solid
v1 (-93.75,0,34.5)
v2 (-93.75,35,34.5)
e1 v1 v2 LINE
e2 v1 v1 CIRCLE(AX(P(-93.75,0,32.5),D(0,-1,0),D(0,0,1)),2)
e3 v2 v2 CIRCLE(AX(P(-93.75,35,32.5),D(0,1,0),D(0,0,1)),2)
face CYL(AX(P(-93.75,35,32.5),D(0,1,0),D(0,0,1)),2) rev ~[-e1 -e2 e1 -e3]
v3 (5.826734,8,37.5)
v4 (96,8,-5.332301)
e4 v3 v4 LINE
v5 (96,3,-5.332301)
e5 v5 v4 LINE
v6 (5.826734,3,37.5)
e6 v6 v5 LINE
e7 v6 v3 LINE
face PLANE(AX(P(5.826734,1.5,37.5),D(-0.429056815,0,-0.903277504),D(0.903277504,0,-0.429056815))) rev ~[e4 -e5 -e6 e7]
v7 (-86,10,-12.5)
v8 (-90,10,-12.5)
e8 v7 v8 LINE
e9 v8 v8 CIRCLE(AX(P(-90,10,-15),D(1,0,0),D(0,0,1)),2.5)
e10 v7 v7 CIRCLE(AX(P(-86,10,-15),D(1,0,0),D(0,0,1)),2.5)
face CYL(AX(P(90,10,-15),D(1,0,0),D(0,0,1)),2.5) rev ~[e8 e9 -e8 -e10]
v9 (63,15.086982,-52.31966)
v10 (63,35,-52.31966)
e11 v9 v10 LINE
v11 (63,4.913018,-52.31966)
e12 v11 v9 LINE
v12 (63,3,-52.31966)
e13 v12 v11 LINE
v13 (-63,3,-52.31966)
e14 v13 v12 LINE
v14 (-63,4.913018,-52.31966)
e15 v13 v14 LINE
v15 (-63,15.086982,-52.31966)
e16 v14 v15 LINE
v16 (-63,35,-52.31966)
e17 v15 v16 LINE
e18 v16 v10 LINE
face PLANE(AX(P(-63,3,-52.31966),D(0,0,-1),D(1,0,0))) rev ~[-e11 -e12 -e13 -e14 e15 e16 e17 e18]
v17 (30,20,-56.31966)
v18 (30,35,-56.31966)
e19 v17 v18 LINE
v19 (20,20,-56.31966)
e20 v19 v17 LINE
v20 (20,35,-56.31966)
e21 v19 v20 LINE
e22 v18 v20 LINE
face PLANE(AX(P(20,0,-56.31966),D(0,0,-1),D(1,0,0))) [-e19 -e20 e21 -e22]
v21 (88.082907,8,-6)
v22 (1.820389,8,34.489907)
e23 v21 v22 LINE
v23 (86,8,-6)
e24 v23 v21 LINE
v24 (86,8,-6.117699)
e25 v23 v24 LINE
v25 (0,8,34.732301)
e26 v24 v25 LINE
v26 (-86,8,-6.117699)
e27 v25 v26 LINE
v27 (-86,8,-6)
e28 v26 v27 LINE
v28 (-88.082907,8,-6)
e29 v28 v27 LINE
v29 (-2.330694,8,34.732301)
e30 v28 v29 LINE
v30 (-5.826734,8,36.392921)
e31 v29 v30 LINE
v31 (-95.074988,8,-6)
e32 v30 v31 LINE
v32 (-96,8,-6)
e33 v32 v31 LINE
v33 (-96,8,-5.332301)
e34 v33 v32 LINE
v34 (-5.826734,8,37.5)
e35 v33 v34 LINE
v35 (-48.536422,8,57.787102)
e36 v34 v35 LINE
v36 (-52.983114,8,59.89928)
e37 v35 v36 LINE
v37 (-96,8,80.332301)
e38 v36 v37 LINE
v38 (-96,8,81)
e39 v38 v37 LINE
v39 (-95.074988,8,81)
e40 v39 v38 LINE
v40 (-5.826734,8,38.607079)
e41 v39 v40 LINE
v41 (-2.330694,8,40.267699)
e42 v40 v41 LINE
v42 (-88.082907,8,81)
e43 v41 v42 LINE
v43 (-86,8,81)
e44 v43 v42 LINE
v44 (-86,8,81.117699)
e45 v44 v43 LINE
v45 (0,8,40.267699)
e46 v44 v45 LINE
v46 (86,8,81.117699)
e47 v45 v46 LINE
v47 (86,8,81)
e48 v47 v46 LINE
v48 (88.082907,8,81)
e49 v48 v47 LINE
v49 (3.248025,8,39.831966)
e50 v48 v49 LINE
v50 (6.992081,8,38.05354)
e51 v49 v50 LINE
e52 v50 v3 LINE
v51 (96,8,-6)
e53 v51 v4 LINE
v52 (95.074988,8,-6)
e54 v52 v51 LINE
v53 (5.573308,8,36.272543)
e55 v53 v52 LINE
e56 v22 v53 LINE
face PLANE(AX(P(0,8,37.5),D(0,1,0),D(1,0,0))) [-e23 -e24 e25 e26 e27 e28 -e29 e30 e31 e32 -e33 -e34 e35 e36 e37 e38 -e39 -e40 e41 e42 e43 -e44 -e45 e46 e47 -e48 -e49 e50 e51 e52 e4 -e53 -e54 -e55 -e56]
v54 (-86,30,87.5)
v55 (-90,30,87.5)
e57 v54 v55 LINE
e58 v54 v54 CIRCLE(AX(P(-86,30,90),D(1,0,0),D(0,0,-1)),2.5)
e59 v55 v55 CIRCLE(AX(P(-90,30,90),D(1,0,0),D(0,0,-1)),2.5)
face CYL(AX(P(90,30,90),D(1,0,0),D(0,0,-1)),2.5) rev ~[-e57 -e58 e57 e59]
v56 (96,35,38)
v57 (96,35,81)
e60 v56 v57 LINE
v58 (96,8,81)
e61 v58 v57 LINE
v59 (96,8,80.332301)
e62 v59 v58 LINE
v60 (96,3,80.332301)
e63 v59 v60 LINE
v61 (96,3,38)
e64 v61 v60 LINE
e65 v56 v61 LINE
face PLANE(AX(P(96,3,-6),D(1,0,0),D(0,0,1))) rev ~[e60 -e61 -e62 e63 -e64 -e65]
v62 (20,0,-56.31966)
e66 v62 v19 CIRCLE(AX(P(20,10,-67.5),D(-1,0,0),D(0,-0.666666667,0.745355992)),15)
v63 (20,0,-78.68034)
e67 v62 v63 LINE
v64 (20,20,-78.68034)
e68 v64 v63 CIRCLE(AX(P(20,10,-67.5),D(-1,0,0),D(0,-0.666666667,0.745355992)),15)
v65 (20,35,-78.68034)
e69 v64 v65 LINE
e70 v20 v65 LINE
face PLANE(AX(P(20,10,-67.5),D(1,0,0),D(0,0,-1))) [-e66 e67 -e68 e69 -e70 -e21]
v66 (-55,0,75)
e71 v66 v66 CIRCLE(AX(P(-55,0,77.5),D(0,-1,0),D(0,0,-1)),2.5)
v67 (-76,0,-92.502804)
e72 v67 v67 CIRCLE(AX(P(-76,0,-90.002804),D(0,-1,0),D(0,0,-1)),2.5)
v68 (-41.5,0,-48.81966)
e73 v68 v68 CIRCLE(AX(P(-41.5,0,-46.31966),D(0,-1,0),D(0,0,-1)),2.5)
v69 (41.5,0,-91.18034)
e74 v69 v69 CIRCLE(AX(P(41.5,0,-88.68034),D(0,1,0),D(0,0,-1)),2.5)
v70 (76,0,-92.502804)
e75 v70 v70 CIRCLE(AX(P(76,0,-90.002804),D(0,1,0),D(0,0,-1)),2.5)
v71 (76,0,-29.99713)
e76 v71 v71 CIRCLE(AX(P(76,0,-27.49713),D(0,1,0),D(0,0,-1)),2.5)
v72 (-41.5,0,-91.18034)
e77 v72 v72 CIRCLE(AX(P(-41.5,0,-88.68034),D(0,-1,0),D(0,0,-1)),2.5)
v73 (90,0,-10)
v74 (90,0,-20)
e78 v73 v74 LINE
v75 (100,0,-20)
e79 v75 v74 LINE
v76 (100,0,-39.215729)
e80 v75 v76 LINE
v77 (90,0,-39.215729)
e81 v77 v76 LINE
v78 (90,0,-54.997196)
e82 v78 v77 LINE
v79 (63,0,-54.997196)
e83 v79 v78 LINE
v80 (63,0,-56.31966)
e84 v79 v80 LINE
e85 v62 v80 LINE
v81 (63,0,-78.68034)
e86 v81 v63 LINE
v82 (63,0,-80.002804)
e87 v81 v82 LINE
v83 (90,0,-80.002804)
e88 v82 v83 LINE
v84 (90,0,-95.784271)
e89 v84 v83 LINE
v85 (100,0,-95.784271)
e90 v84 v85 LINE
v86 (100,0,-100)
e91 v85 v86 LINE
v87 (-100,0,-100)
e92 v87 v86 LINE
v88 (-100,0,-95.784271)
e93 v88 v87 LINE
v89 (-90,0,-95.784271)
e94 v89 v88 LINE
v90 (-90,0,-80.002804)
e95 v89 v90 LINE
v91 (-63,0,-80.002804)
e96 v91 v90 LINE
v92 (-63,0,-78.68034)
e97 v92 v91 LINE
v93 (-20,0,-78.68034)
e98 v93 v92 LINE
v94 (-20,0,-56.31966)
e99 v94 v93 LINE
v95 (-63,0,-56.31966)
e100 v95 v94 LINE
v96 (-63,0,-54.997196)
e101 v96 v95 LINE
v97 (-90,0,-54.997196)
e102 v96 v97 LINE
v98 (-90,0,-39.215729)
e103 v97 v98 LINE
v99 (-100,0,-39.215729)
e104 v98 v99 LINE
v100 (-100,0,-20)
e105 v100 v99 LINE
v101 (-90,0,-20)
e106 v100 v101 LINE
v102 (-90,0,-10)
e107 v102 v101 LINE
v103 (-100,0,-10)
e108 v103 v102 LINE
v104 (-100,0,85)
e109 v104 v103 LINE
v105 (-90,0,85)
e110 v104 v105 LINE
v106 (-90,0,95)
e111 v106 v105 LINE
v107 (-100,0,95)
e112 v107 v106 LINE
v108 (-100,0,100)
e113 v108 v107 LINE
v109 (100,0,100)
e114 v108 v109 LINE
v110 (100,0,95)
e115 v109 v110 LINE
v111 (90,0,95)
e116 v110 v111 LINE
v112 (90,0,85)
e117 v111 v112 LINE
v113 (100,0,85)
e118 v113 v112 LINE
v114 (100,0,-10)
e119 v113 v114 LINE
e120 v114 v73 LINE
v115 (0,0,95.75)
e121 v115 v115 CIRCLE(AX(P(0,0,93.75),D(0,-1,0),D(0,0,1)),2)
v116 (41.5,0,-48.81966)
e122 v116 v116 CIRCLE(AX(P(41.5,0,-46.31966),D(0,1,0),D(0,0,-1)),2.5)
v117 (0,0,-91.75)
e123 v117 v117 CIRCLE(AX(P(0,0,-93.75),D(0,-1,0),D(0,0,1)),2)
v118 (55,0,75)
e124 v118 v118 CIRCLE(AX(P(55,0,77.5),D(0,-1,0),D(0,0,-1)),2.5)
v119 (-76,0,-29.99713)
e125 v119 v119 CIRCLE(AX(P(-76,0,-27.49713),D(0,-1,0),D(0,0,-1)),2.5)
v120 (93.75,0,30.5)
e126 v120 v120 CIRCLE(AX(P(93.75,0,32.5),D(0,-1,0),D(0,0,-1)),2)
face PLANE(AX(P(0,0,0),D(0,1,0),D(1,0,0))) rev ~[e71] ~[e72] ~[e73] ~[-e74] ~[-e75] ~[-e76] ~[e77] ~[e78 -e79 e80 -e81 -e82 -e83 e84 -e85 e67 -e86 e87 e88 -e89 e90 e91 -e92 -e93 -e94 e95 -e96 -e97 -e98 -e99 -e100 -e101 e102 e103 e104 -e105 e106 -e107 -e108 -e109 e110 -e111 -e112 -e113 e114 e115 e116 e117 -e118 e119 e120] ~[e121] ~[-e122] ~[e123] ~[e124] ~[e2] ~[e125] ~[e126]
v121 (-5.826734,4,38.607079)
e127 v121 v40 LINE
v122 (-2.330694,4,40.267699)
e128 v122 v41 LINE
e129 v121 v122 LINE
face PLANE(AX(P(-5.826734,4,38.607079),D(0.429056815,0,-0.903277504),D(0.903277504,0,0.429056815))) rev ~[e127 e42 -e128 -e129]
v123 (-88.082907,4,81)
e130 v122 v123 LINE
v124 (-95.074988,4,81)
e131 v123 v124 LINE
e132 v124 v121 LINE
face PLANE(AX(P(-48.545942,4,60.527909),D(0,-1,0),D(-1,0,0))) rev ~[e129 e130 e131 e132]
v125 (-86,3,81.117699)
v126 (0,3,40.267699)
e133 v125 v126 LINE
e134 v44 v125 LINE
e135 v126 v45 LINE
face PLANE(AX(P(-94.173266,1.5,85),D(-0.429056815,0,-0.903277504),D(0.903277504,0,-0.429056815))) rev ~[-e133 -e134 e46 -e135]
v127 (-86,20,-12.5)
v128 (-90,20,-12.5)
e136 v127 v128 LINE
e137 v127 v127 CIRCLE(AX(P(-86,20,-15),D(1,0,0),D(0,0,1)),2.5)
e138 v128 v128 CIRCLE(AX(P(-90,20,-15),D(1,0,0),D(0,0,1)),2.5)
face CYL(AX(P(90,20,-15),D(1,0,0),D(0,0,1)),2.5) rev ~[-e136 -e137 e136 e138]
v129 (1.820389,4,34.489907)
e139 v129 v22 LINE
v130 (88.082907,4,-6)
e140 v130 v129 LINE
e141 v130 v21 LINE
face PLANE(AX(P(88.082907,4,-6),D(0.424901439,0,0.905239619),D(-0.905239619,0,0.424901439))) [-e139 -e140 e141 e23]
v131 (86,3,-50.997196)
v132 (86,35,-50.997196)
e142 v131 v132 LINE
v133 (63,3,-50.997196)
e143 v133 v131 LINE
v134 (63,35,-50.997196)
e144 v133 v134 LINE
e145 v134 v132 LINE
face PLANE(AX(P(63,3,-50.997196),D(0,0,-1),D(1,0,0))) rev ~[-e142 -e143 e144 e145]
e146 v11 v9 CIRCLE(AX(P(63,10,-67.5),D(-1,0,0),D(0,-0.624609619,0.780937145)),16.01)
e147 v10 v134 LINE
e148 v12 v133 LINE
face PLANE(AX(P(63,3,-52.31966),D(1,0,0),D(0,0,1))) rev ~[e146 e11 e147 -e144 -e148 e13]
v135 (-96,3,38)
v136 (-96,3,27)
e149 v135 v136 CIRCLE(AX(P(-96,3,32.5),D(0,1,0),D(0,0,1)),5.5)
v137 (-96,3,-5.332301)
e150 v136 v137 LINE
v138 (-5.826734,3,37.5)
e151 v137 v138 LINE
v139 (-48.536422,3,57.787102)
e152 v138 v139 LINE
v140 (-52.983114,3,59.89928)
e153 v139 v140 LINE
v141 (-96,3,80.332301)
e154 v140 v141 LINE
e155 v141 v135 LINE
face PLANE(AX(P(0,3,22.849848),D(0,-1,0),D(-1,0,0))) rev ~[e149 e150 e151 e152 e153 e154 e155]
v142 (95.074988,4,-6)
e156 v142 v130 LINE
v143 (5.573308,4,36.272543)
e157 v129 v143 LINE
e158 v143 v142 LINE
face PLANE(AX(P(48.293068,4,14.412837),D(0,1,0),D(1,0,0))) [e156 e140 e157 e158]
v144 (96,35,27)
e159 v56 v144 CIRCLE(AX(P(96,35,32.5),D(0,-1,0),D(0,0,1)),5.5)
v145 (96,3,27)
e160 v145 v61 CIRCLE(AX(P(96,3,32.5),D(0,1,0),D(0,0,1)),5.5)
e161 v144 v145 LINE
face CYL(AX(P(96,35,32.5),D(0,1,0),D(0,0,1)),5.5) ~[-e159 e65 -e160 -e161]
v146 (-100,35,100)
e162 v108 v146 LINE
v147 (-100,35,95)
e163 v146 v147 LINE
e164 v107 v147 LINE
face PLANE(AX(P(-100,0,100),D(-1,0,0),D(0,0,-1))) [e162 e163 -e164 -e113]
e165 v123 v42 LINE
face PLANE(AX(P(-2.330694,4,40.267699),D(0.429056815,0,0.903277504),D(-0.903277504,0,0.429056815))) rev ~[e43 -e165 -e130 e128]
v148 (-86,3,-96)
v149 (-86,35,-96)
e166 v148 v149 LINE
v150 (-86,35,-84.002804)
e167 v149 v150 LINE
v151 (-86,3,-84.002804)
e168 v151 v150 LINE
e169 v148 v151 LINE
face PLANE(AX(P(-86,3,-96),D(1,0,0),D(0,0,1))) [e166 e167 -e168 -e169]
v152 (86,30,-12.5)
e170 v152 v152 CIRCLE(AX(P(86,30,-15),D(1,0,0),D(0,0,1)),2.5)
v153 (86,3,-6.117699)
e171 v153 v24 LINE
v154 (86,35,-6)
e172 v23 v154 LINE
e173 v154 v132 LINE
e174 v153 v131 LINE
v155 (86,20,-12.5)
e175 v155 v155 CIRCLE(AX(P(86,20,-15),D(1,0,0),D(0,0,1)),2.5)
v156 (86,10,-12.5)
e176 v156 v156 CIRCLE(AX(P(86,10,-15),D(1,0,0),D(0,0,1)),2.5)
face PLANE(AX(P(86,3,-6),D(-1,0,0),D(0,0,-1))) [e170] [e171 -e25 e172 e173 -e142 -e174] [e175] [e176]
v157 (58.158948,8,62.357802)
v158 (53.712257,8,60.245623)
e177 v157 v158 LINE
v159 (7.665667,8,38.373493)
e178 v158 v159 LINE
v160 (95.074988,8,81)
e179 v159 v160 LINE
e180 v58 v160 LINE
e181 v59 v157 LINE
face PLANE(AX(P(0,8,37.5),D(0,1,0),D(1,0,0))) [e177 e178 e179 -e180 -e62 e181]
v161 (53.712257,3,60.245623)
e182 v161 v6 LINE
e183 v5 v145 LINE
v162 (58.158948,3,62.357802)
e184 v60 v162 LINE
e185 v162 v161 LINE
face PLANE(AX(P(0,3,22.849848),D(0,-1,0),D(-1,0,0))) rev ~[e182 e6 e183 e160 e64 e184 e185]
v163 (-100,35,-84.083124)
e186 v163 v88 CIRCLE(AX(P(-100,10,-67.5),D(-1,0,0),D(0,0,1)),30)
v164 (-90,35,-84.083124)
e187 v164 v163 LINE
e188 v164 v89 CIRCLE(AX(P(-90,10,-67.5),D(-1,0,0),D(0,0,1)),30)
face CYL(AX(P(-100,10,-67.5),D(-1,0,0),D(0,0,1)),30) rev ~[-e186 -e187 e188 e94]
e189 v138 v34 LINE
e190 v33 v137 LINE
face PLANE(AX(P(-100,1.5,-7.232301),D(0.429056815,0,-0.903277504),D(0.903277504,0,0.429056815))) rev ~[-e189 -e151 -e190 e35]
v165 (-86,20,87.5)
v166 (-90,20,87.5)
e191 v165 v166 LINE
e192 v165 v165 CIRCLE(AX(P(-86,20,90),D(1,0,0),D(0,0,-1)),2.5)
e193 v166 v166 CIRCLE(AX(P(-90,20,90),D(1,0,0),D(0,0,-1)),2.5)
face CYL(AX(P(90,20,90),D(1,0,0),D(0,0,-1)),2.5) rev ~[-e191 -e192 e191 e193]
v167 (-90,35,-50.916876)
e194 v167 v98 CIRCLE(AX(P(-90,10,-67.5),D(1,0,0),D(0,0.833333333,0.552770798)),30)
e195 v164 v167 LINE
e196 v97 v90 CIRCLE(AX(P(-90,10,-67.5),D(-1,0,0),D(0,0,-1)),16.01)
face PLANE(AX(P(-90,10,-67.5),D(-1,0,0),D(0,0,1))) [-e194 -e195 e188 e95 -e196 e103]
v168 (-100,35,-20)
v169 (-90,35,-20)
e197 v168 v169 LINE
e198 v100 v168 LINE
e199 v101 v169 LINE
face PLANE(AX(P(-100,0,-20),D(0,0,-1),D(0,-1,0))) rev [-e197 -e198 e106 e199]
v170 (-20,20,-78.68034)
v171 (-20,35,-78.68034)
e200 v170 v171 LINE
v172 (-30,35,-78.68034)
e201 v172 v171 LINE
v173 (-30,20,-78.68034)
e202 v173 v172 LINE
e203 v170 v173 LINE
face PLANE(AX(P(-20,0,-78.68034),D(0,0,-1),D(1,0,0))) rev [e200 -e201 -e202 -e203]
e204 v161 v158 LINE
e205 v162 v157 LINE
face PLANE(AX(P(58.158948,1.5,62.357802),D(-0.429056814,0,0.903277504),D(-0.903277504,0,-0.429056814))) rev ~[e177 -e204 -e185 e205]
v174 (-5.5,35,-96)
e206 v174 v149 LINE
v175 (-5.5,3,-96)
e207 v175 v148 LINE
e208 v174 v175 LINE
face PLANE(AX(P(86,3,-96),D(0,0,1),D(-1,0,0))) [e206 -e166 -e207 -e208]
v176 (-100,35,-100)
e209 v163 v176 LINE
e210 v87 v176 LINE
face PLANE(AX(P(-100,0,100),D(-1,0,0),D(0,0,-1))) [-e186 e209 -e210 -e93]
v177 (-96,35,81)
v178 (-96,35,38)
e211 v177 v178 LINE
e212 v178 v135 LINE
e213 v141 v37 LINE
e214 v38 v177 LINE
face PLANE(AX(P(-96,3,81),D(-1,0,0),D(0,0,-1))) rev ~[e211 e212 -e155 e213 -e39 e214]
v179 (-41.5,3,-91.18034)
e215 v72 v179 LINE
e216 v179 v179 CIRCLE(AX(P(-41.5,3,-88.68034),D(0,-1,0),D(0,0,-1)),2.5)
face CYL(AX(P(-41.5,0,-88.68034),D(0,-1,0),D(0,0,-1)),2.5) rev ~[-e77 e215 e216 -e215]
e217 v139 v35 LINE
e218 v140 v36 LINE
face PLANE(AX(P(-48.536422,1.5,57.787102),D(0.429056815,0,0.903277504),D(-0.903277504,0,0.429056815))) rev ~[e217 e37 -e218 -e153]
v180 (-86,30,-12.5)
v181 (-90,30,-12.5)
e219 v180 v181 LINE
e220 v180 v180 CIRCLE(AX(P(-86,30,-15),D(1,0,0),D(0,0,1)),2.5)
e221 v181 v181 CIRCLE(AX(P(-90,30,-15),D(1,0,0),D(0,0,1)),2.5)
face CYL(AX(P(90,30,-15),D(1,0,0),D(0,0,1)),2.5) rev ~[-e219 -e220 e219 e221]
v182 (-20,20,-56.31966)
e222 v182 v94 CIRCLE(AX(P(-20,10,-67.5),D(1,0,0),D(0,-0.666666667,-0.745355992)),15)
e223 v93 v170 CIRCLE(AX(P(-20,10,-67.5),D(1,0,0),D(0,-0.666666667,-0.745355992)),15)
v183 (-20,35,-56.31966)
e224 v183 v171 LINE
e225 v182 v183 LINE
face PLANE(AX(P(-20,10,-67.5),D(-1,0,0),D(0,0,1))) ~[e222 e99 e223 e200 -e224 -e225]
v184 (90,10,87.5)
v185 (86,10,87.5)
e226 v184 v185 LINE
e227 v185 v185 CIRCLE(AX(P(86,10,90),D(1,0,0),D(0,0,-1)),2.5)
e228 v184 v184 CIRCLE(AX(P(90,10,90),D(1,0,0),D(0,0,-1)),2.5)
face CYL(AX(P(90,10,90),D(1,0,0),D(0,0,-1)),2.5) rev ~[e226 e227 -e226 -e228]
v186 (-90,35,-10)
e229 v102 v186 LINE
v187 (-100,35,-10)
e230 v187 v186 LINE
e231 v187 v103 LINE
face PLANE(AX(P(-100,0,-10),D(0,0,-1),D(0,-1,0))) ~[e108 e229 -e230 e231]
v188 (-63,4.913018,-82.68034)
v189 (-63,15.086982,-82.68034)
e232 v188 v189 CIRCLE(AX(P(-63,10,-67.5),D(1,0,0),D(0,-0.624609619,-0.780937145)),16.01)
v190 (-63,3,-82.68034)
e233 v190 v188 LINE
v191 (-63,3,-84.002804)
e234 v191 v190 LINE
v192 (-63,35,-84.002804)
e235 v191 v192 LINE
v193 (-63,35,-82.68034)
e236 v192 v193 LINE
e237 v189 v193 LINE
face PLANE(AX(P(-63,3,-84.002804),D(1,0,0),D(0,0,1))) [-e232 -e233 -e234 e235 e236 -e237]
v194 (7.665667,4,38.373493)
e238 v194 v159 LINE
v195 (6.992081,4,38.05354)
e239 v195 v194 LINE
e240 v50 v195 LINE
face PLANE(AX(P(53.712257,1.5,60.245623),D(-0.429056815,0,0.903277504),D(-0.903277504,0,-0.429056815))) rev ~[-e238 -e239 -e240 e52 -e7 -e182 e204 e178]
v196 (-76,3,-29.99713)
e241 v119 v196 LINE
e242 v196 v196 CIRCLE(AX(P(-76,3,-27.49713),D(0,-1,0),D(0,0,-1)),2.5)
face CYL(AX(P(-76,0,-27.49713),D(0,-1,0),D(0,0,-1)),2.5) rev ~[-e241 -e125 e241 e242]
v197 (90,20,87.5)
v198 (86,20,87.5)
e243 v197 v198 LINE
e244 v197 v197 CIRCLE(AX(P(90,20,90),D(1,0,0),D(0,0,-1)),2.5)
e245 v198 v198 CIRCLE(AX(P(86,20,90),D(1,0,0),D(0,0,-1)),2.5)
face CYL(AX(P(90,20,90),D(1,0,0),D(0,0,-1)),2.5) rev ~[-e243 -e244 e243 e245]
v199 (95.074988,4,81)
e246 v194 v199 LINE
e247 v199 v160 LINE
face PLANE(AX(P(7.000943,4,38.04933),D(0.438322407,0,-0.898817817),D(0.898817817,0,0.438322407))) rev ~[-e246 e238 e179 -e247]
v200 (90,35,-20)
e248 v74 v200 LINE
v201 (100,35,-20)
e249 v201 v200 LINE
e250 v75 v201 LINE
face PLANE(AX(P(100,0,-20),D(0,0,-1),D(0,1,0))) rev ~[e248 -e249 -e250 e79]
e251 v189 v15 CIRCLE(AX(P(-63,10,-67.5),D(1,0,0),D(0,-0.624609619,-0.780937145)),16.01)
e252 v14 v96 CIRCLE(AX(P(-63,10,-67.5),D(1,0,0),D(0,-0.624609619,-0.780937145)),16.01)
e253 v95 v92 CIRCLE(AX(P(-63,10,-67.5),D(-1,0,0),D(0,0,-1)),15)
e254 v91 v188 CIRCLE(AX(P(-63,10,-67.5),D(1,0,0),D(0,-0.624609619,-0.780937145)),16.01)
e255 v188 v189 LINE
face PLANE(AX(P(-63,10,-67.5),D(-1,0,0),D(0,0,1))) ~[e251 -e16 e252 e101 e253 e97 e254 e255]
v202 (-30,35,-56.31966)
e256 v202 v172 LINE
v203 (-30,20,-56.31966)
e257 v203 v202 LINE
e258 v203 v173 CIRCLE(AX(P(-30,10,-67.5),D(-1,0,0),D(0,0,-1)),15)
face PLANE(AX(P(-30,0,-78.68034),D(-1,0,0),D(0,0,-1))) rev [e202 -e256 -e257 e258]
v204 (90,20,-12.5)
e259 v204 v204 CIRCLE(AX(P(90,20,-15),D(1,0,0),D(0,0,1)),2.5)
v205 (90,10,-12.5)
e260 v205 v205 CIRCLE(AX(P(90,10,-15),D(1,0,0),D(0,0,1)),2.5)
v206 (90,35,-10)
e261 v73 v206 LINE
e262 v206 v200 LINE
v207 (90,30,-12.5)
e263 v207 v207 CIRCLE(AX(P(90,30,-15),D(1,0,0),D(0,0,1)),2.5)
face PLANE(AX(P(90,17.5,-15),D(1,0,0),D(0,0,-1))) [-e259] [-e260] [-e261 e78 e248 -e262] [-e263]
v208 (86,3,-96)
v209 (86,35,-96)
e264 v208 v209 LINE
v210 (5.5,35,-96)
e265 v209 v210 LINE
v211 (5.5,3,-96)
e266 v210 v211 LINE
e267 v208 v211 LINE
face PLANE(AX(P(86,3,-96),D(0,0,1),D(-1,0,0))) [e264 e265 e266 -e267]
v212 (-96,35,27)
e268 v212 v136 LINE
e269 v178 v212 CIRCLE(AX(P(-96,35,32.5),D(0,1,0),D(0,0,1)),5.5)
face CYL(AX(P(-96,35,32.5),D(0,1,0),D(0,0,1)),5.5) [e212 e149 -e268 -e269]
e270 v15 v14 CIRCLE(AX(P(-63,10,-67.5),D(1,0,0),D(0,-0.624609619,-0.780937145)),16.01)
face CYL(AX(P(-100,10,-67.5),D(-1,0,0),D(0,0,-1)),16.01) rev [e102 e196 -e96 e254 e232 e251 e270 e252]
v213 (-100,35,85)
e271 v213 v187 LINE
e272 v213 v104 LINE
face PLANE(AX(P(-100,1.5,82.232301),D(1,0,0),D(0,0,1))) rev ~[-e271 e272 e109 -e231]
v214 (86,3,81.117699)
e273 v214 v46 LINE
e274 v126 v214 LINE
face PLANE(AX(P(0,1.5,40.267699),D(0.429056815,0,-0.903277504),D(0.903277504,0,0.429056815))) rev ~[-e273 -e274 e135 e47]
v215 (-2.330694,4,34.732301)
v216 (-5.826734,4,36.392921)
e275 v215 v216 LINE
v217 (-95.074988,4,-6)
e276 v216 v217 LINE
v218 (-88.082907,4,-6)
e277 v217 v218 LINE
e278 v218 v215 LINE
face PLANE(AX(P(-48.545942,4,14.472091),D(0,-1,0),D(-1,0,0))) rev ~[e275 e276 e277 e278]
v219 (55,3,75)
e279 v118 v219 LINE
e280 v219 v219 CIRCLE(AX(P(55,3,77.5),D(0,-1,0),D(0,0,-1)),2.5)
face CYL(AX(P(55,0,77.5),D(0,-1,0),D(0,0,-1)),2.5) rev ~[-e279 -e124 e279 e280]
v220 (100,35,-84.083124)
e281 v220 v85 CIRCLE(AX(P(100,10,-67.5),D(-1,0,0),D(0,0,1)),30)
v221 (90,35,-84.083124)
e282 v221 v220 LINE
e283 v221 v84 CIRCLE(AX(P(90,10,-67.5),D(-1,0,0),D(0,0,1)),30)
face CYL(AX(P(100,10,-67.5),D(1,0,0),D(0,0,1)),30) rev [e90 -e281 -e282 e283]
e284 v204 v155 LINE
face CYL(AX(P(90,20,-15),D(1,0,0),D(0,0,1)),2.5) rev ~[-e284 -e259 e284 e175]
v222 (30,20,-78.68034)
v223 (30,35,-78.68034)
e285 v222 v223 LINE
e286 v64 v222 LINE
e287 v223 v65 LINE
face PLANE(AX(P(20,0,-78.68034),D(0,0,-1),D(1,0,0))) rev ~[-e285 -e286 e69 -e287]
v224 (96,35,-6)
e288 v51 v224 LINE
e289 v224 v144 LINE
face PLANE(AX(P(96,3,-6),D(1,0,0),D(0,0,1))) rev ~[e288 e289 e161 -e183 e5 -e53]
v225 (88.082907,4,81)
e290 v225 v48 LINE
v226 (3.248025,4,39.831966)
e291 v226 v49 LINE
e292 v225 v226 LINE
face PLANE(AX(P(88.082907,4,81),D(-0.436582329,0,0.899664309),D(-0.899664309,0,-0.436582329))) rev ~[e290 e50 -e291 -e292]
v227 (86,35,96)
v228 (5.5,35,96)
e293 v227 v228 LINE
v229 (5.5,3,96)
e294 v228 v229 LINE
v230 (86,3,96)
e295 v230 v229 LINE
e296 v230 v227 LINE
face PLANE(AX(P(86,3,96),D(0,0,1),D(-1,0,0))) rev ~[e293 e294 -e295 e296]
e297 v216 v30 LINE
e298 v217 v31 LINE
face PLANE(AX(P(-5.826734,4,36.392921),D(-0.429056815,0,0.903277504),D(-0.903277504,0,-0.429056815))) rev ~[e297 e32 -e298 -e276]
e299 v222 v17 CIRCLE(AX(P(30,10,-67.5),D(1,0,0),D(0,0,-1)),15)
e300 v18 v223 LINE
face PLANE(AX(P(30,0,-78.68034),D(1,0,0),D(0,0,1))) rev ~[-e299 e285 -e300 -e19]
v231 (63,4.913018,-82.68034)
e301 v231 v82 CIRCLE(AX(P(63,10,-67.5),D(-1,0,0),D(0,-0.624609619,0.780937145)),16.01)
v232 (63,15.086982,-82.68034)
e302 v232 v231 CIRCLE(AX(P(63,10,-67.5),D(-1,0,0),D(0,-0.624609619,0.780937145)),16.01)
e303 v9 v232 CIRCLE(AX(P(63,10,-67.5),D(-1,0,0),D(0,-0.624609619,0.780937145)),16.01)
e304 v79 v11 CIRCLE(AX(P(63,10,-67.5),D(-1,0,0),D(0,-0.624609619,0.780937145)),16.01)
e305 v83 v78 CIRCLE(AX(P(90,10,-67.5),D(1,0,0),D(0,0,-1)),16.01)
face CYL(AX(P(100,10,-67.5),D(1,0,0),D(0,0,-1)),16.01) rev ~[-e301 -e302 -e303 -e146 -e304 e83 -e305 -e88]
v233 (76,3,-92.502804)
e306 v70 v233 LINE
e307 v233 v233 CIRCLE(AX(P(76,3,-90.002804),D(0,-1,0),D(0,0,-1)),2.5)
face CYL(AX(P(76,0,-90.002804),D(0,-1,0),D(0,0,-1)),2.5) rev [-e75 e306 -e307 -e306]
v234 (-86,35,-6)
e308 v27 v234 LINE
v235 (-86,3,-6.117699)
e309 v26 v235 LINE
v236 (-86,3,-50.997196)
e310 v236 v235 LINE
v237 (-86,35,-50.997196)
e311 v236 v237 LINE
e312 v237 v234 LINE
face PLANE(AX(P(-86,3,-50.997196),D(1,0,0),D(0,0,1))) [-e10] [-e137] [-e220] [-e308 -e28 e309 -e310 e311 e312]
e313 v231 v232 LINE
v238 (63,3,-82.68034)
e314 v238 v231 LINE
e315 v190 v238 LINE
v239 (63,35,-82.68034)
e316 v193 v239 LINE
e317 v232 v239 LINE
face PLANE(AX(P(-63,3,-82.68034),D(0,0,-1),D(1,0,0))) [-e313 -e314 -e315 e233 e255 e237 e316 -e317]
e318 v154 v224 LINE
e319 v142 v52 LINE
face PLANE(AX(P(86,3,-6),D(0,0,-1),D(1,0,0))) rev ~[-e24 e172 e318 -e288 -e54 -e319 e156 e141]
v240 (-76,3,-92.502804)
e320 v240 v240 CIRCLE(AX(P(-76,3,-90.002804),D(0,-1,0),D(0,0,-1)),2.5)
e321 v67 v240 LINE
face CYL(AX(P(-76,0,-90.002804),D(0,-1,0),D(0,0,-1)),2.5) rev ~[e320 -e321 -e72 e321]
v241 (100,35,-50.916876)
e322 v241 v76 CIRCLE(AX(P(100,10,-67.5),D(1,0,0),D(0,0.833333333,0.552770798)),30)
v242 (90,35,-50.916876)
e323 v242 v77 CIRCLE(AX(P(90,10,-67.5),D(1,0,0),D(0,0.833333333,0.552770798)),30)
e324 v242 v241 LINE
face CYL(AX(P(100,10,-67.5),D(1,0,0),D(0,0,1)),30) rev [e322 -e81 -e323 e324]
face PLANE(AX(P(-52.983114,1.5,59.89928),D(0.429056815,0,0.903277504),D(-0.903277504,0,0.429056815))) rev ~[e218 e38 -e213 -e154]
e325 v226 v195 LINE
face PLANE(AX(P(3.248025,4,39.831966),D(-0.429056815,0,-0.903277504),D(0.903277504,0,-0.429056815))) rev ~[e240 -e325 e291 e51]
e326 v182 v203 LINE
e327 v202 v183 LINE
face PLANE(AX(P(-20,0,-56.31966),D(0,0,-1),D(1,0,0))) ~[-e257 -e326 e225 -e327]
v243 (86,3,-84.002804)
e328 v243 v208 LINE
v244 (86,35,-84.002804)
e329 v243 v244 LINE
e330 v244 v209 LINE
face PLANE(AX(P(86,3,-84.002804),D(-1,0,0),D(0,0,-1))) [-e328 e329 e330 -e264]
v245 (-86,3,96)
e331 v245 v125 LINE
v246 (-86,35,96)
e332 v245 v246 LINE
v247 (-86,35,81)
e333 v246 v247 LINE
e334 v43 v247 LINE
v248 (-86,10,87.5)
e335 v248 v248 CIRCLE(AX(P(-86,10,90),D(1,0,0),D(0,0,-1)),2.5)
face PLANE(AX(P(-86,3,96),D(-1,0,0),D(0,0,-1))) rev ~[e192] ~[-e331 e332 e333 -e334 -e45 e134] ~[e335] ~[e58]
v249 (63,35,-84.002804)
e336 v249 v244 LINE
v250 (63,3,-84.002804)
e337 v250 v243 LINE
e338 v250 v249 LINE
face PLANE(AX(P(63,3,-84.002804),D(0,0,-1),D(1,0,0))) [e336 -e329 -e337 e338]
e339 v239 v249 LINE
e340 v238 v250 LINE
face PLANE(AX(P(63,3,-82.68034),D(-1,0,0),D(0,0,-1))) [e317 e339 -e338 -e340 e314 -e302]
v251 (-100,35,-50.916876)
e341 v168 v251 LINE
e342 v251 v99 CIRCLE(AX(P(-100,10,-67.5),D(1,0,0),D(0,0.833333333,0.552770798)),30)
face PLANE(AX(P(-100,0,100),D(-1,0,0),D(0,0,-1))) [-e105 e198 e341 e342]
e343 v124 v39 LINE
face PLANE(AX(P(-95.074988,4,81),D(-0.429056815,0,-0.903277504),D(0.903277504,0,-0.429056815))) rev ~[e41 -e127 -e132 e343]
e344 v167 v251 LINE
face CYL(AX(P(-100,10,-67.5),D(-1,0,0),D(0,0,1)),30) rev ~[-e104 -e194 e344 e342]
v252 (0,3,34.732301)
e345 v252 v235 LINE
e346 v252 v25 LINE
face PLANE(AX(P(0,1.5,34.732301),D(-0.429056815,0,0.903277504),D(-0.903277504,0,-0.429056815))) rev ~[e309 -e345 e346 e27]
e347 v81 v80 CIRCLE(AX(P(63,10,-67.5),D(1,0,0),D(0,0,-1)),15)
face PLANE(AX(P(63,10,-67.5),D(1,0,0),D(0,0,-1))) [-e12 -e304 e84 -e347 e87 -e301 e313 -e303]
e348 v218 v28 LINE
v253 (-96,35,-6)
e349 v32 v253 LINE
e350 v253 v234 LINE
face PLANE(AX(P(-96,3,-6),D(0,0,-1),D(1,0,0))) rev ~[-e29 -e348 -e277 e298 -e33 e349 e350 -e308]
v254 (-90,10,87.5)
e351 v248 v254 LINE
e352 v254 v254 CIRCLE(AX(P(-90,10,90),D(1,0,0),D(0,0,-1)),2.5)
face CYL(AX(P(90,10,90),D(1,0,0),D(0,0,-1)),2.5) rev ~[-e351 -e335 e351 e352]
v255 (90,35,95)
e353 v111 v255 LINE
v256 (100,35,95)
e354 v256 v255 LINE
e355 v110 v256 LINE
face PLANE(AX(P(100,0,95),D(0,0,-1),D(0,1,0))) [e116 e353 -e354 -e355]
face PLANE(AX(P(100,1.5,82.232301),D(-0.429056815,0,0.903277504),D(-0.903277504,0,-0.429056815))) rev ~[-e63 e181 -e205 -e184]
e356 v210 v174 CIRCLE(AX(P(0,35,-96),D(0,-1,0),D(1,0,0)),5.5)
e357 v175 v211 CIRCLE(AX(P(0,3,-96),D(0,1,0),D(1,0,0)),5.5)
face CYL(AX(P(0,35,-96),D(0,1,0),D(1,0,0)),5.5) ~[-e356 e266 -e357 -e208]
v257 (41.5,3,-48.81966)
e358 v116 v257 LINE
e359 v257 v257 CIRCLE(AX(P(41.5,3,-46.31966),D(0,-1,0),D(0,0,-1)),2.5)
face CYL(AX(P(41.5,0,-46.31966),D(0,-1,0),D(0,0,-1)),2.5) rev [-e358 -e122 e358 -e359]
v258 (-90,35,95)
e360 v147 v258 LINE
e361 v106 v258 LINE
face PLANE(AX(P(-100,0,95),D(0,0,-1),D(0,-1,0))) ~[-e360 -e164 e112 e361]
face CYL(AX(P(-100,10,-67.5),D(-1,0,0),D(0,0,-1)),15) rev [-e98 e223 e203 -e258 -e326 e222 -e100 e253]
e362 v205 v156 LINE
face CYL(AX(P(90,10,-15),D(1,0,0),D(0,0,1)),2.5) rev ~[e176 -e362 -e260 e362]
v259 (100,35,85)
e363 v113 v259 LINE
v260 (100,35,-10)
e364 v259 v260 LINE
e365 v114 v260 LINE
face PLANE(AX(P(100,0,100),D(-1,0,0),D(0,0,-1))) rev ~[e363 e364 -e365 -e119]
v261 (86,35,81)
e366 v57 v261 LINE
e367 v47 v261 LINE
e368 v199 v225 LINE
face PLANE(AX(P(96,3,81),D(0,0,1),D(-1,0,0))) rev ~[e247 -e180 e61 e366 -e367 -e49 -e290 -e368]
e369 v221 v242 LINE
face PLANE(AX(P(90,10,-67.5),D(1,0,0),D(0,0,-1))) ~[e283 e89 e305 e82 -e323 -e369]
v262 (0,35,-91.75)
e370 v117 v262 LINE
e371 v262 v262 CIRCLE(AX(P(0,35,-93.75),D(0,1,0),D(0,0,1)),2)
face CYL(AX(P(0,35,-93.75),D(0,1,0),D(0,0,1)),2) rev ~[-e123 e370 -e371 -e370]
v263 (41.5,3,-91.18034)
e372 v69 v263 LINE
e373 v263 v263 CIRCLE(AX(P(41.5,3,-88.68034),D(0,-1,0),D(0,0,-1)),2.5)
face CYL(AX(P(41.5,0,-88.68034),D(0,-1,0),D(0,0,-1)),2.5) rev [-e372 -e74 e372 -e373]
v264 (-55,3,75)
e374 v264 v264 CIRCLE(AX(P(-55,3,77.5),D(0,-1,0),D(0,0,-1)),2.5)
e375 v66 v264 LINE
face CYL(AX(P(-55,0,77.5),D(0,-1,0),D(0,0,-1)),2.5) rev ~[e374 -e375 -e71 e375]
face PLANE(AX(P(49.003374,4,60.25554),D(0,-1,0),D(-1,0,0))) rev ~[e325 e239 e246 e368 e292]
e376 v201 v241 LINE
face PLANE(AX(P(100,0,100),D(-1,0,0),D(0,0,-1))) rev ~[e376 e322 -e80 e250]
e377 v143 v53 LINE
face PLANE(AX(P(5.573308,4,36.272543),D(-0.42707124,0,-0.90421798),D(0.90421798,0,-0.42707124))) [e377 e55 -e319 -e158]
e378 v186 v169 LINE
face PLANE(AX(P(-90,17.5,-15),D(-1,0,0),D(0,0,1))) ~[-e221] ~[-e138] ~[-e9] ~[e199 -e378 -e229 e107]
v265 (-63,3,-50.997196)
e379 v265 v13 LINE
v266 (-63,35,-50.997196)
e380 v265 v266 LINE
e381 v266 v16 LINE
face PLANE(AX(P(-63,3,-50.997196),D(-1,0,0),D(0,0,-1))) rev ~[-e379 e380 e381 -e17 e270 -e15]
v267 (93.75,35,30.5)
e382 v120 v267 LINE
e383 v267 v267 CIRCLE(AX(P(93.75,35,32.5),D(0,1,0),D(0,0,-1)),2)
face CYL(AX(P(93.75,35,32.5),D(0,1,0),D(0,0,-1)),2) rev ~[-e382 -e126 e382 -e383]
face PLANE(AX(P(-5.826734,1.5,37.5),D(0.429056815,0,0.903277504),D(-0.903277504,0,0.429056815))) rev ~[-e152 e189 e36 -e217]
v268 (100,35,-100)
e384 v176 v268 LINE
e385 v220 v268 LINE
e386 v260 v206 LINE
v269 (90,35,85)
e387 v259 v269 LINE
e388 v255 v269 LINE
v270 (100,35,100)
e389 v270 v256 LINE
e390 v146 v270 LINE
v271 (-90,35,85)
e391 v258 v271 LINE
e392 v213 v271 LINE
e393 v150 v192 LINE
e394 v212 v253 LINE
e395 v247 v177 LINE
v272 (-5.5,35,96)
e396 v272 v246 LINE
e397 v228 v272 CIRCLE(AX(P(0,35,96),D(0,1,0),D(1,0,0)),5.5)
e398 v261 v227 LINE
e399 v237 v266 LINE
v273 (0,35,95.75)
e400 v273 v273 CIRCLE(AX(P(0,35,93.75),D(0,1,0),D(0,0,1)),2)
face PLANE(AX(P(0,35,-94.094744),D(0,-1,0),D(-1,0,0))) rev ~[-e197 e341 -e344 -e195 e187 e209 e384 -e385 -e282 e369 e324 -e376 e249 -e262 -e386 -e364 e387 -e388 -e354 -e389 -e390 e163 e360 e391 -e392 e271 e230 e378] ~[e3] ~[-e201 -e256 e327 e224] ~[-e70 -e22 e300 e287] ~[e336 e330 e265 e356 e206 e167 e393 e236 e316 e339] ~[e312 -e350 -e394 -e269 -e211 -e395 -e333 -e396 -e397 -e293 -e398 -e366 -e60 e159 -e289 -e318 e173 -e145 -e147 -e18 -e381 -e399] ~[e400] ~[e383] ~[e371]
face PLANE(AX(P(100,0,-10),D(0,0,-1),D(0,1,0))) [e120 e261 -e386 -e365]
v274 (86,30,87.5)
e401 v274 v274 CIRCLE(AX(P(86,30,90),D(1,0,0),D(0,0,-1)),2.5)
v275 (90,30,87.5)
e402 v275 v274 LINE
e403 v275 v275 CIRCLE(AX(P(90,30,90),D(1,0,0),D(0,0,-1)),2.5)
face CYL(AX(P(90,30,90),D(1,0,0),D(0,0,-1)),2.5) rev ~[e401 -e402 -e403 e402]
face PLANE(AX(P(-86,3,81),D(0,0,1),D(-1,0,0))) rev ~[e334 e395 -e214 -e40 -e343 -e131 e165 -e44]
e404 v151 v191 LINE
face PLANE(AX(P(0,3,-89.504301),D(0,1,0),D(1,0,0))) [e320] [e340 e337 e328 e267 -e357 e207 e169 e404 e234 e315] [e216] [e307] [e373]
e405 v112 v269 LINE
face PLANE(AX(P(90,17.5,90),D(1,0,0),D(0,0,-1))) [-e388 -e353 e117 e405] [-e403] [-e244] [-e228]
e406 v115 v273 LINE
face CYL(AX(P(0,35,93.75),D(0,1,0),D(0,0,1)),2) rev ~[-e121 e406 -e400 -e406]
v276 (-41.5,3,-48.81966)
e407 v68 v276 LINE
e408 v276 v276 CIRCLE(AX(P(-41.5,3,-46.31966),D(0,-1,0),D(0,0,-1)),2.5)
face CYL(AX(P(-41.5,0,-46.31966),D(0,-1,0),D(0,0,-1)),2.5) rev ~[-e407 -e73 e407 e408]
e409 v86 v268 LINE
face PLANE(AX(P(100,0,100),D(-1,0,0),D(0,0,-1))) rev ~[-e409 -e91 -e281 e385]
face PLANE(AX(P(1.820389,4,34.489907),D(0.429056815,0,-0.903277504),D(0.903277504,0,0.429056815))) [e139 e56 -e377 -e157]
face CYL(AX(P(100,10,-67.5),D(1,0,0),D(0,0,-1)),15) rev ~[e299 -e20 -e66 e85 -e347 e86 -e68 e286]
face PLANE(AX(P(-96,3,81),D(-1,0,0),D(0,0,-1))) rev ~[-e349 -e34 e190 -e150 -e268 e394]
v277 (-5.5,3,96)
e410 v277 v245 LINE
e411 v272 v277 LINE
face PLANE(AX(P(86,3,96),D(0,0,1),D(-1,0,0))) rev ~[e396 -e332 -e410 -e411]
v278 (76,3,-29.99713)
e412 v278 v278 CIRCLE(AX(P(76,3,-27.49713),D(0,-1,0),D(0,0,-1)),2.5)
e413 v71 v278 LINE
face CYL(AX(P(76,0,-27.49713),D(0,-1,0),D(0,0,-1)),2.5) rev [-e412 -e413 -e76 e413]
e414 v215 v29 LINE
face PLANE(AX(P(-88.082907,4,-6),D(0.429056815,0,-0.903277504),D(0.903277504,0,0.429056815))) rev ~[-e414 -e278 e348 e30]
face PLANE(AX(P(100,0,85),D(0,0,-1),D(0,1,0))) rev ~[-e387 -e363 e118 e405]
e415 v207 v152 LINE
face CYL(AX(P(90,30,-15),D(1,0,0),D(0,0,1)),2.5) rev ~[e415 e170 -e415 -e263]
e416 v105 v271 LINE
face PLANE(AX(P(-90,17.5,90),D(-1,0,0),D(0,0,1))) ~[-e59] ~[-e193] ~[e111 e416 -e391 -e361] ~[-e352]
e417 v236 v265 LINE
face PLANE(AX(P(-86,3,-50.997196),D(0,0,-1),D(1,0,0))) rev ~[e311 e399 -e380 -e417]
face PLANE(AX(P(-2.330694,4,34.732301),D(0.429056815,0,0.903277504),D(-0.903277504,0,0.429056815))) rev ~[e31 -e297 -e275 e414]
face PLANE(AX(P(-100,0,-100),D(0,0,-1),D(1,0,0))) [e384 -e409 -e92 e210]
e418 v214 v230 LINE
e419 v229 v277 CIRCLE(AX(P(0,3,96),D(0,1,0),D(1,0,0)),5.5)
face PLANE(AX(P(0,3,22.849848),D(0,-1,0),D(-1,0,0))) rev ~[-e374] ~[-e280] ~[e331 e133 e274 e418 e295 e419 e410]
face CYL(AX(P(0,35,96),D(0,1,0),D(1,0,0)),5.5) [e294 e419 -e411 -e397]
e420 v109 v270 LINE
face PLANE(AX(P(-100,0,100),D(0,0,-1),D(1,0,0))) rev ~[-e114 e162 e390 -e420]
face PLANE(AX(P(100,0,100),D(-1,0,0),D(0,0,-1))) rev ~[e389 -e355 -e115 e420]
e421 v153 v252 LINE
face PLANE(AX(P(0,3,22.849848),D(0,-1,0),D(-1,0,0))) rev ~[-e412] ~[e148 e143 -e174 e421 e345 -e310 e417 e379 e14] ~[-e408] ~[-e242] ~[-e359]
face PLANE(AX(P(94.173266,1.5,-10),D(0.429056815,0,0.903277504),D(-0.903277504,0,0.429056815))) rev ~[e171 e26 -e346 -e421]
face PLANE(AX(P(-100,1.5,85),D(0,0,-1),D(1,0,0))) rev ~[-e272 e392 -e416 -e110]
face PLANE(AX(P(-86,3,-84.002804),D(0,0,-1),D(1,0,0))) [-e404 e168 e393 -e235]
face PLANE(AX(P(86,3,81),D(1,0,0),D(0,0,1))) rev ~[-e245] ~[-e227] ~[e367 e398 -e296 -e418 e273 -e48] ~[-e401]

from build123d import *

# Parameters (mm, degrees)
ESQUISSE2_W              = 200
ESQUISSE2_H              = 200
BASE_DEPTH               = 35
ESQUISSE3_R              = 15
BLOC_MOTEUR_1_DEPTH      = 80
ESQUISSE4_W              = 10
ESQUISSE4_H              = 22.360679774
ACCES_MOTEUR_DEPTH       = 37
ESQUISSE6_R              = 16.01
BLOC_MOTEUR_2_DEPTH      = 37
ESQUISSE7_R              = 2.5
VIS_MOTEUR_DEPTH         = 146.688022843
ESQUISSE8_R              = 2.5
VIS_PATIN_DEPTH          = 146.688022843
ESQUISSE12_R             = 30
ESPACE_ROUE_DEPTH        = 10
ESQUISSE23_W             = 10
ESQUISSE23_H             = 35
VIDE_TIGE_DEPTH          = 10
VIDE_VIS_REACH           = 219.543
ESQUISSE25_R             = 2.5
VIDE_START               = -1
VIDE_BASE_DEPTH          = 32
BOSS_CROIX_DEPTH         = 4
BOSS_CROIX_DEPTH_BACK    = 2.5
ESQUISSE30_R             = 2
BOSS_VIS_DEPTH           = 35
VIDE_START_2             = -5
ESQUISSE31_R             = 2
VIDE_VIS_COUVERCLE_DEPTH = 5
VIDE_CROIX_DEPTH         = 4


with BuildPart() as part:
    # Esquisse2 → BASE (new body)
    with BuildSketch(Plane(origin=(0, 0, 0), x_dir=(1, 0, 0), z_dir=(0, 1, 0))):
        Rectangle(ESQUISSE2_W, ESQUISSE2_H)
    extrude(amount=BASE_DEPTH)

    # Esquisse3 → BLOC MOTEUR 1. (cut)
    with BuildSketch(Plane(origin=(100, 0, 0), x_dir=(0, 0, -1), z_dir=(1, 0, 0))):
        with Locations((67.5, 10)):
            Circle(ESQUISSE3_R)
    bloc_moteur_1 = extrude(amount=-BLOC_MOTEUR_1_DEPTH, mode=Mode.SUBTRACT)

    # Esquisse4 → ACCES MOTEUR (cut)
    with BuildSketch(Plane.XZ):
        with Locations((25, -67.5)):
            Rectangle(ESQUISSE4_W, ESQUISSE4_H)
    acces_moteur = extrude(amount=-ACCES_MOTEUR_DEPTH, mode=Mode.SUBTRACT)

    # Esquisse6 → BLOC MOTEUR 2 (cut)
    with BuildSketch(Plane(origin=(100, 0, 0), x_dir=(0, 0, -1), z_dir=(1, 0, 0))):
        with Locations((67.5, 10)):
            Circle(ESQUISSE6_R)
    bloc_moteur_2 = extrude(amount=-BLOC_MOTEUR_2_DEPTH, mode=Mode.SUBTRACT)

    # SYM BLOC MOTEUR: BLOC MOTEUR 1., ACCES MOTEUR, BLOC MOTEUR 2 across plane
    add(bloc_moteur_1.mirror(Plane(origin=(0, 0, 0), x_dir=(0, 0, 1), z_dir=(1, 0, 0))), mode=Mode.SUBTRACT)
    add(acces_moteur.mirror(Plane(origin=(0, 0, 0), x_dir=(0, 0, 1), z_dir=(1, 0, 0))), mode=Mode.SUBTRACT)
    add(bloc_moteur_2.mirror(Plane(origin=(0, 0, 0), x_dir=(0, 0, 1), z_dir=(1, 0, 0))), mode=Mode.SUBTRACT)

    # Esquisse7 → VIS MOTEUR (cut, through all)
    with BuildSketch(Plane.XZ):
        with Locations(Location((-76, -27.497129837, 0), (0, 0, 270))):
            Circle(ESQUISSE7_R)
        with Locations(Location((-41.5, -46.319660113, 0), (0, 0, 270))):
            Circle(ESQUISSE7_R)
        with Locations(Location((-41.5, -88.680339887, 0), (0, 0, 270))):
            Circle(ESQUISSE7_R)
        with Locations(Location((-76, -90.002803686, 0), (0, 0, 270))):
            Circle(ESQUISSE7_R)
    vis_moteur = extrude(amount=-VIS_MOTEUR_DEPTH, mode=Mode.SUBTRACT)

    # SYM VIS: VIS MOTEUR across plane
    add(vis_moteur.mirror(Plane(origin=(0, 0, 0), x_dir=(0, 0, 1), z_dir=(1, 0, 0))), mode=Mode.SUBTRACT)

    # Esquisse8 → VIS PATIN (cut, through all)
    with BuildSketch(Plane.XZ):
        with Locations(Location((-55, 77.5, 0), (0, 0, 270))):
            Circle(ESQUISSE8_R)
        with Locations(Location((55, 77.5, 0), (0, 0, 270))):
            Circle(ESQUISSE8_R)
    extrude(amount=-VIS_PATIN_DEPTH, mode=Mode.SUBTRACT)

    # Esquisse12 → ESPACE ROUE (cut)
    with BuildSketch(Plane.ZY.offset(100)):
        with Locations((-67.5, 10)):
            Circle(ESQUISSE12_R)
    espace_roue = extrude(amount=-ESPACE_ROUE_DEPTH, mode=Mode.SUBTRACT)

    # SYM ESPACE ROUE: ESPACE ROUE across plane
    add(espace_roue.mirror(Plane(origin=(0, 0, 0), x_dir=(0, 0, 1), z_dir=(1, 0, 0))), mode=Mode.SUBTRACT)

    # Esquisse23 → VIDE TIGE (cut)
    with BuildSketch(Plane(origin=(100, 0, 0), x_dir=(0, 0, -1), z_dir=(1, 0, 0))):
        with Locations((-90, 17.5)):
            Rectangle(ESQUISSE23_W, ESQUISSE23_H)
        with Locations((15, 17.5)):
            Rectangle(ESQUISSE23_W, ESQUISSE23_H)
    vide_tige = extrude(amount=-VIDE_TIGE_DEPTH, mode=Mode.SUBTRACT)

    # SYM TIGE: VIDE TIGE across plane
    add(vide_tige.mirror(Plane(origin=(0, 0, 0), x_dir=(0, 0, 1), z_dir=(1, 0, 0))), mode=Mode.SUBTRACT)

    # Esquisse25 → VIDE VIS (cut, up to next)
    with BuildSketch(Plane(origin=(90, 0, 0), x_dir=(0, 0, -1), z_dir=(1, 0, 0)), mode=Mode.PRIVATE) as vide_vis_sk1:
        with Locations((-90, 30)):
            Circle(ESQUISSE25_R)
    vide_vis_tool1 = extrude(vide_vis_sk1.sketch, amount=-VIDE_VIS_REACH, mode=Mode.PRIVATE) & part.part
    # Esquisse25 → VIDE VIS (cut, up to next)
    with BuildSketch(Plane(origin=(90, 0, 0), x_dir=(0, 0, -1), z_dir=(1, 0, 0)), mode=Mode.PRIVATE) as vide_vis_sk2:
        with Locations((-90, 20)):
            Circle(ESQUISSE25_R)
    vide_vis_tool2 = extrude(vide_vis_sk2.sketch, amount=-VIDE_VIS_REACH, mode=Mode.PRIVATE) & part.part
    # Esquisse25 → VIDE VIS (cut, up to next)
    with BuildSketch(Plane(origin=(90, 0, 0), x_dir=(0, 0, -1), z_dir=(1, 0, 0)), mode=Mode.PRIVATE) as vide_vis_sk3:
        with Locations((-90, 10)):
            Circle(ESQUISSE25_R)
    vide_vis_tool3 = extrude(vide_vis_sk3.sketch, amount=-VIDE_VIS_REACH, mode=Mode.PRIVATE) & part.part
    # Esquisse25 → VIDE VIS (cut, up to next)
    with BuildSketch(Plane(origin=(90, 0, 0), x_dir=(0, 0, -1), z_dir=(1, 0, 0)), mode=Mode.PRIVATE) as vide_vis_sk4:
        with Locations(Location((15, 10, 0), (0, 0, 180))):
            Circle(ESQUISSE25_R)
    vide_vis_tool4 = extrude(vide_vis_sk4.sketch, amount=-VIDE_VIS_REACH, mode=Mode.PRIVATE) & part.part
    # Esquisse25 → VIDE VIS (cut, up to next)
    with BuildSketch(Plane(origin=(90, 0, 0), x_dir=(0, 0, -1), z_dir=(1, 0, 0)), mode=Mode.PRIVATE) as vide_vis_sk5:
        with Locations(Location((15, 30, 0), (0, 0, 180))):
            Circle(ESQUISSE25_R)
    vide_vis_tool5 = extrude(vide_vis_sk5.sketch, amount=-VIDE_VIS_REACH, mode=Mode.PRIVATE) & part.part
    # Esquisse25 → VIDE VIS (cut, up to next)
    with BuildSketch(Plane(origin=(90, 0, 0), x_dir=(0, 0, -1), z_dir=(1, 0, 0)), mode=Mode.PRIVATE) as vide_vis_sk6:
        with Locations(Location((15, 20, 0), (0, 0, 180))):
            Circle(ESQUISSE25_R)
    vide_vis_tool6 = extrude(vide_vis_sk6.sketch, amount=-VIDE_VIS_REACH, mode=Mode.PRIVATE) & part.part
    add(vide_vis_tool1.solids().sort_by_distance((90, 30, 90))[0], mode=Mode.SUBTRACT)
    add(vide_vis_tool2.solids().sort_by_distance((90, 20, 90))[0], mode=Mode.SUBTRACT)
    add(vide_vis_tool3.solids().sort_by_distance((90, 10, 90))[0], mode=Mode.SUBTRACT)
    add(vide_vis_tool4.solids().sort_by_distance((90, 10, -15))[0], mode=Mode.SUBTRACT)
    add(vide_vis_tool5.solids().sort_by_distance((90, 30, -15))[0], mode=Mode.SUBTRACT)
    add(vide_vis_tool6.solids().sort_by_distance((90, 20, -15))[0], mode=Mode.SUBTRACT)

    # Esquisse27 → VIDE BASE (cut)
    with BuildSketch(Plane(origin=(0, 4, 0), x_dir=(1, 0, 0), z_dir=(0, 1, 0)).offset(VIDE_START)):
        Polygon((-96, -81), (-96, 6), (-86, 6), (-86, 16.142194012), (-86, 50.997196314), (-63, 50.997196314), (-63, 52.319660113), (63, 52.319660113), (63, 50.997196314), (86, 50.997196314), (86, 16.142194012), (86, 6), (96, 6), (96, -81), (86, -81), (86, -96), (-86, -96), (-86, -81), align=None)
        Polygon((-86, 84.002803686), (-63, 84.002803686), (-63, 82.680339887), (63, 82.680339887), (63, 84.002803686), (86, 84.002803686), (86, 96), (-86, 96), align=None)
    extrude(amount=VIDE_BASE_DEPTH, mode=Mode.SUBTRACT)

    # Esquisse29 → BOSS - CROIX (add, two sides: drawn at the far end of the back side and taken through both)
    with BuildSketch(Plane(origin=(0, 4, 0), x_dir=(1, 0, 0), z_dir=(0, 1, 0)).offset(-BOSS_CROIX_DEPTH_BACK)):
        Polygon((-48.536422017, -57.78710173), (-52.983113657, -59.899280259), (-100, -82.232301272), (-100, -85), (-94.173265835, -85), (0, -40.267698728), (94.173265835, -85), (100, -85), (100, -82.232301272), (58.158948273, -62.357801701), (53.712256633, -60.245623173), (5.826734165, -37.5), (100, 7.232301272), (100, 10), (94.173265835, 10), (0, -34.732301272), (-94.173265835, 10), (-100, 10), (-100, 7.232301272), (-5.826734165, -37.5), align=None)
    extrude(amount=BOSS_CROIX_DEPTH + BOSS_CROIX_DEPTH_BACK)

    # Esquisse30 → BOSS VIS (add)
    # profile 1 of 4: a face of its own
    with BuildSketch(Plane(origin=(0, 35, 0), x_dir=(1, 0, 0), z_dir=(0, 1, 0))):
        with BuildLine():
            Line((-5.5, 96), (5.5, 96))
            ThreePointArc((5.5, 96), (0, 90.5), (-5.5, 96))
        make_face()
        with Locations(Location((0, 93.75, 0), (0, 0, 270))):
            Circle(ESQUISSE30_R, mode=Mode.SUBTRACT)
    # profile 2 of 4: a face of its own
    with BuildSketch(Plane(origin=(0, 35, 0), x_dir=(1, 0, 0), z_dir=(0, 1, 0))):
        with BuildLine():
            Line((-5.5, -96), (5.5, -96))
            ThreePointArc((5.5, -96), (0, -90.5), (-5.5, -96))
        make_face()
        with Locations(Location((0, -93.75, 0), (0, 0, 270))):
            Circle(ESQUISSE30_R, mode=Mode.SUBTRACT)
    # profile 3 of 4: a face of its own
    with BuildSketch(Plane(origin=(0, 35, 0), x_dir=(1, 0, 0), z_dir=(0, 1, 0))):
        with BuildLine():
            Line((-96, -27), (-96, -38))
            ThreePointArc((-96, -38), (-90.5, -32.5), (-96, -27))
        make_face()
        with Locations(Location((-93.75, -32.5, 0), (0, 0, 270))):
            Circle(ESQUISSE30_R, mode=Mode.SUBTRACT)
    # profile 4 of 4: a face of its own
    with BuildSketch(Plane(origin=(0, 35, 0), x_dir=(1, 0, 0), z_dir=(0, 1, 0))):
        with BuildLine():
            Line((96, -27), (96, -38))
            ThreePointArc((96, -38), (90.5, -32.5), (96, -27))
        make_face()
        with Locations(Location((93.75, -32.5, 0), (0, 0, 90))):
            Circle(ESQUISSE30_R, mode=Mode.SUBTRACT)
    extrude(amount=-BOSS_VIS_DEPTH)

    # Esquisse31 → VIDE VIS COUVERCLE (cut)
    with BuildSketch(Plane.XZ.offset(VIDE_START_2)):
        with Locations(Location((0, 93.75, 0), (0, 0, 90))):
            Circle(ESQUISSE31_R)
        with Locations(Location((-93.75, 32.5, 0), (0, 0, 90))):
            Circle(ESQUISSE31_R)
        with Locations(Location((0, -93.75, 0), (0, 0, 90))):
            Circle(ESQUISSE31_R)
        with Locations(Location((93.75, 32.5, 0), (0, 0, 270))):
            Circle(ESQUISSE31_R)
    extrude(amount=VIDE_VIS_COUVERCLE_DEPTH, mode=Mode.SUBTRACT)

    # Esquisse36 → VIDE CROIX (cut)
    with BuildSketch(Plane(origin=(0, 4, 0), x_dir=(1, 0, 0), z_dir=(0, 1, 0))):
        Polygon((-95.074987867, -81), (-5.826734165, -38.607079491), (-2.330693666, -40.267698728), (-88.08290687, -81), align=None)
        Polygon((-5.826734165, -36.392920509), (-95.074987867, 6), (-88.08290687, 6), (-2.330693666, -34.732301272), align=None)
        Polygon((88.08290687, -81), (3.248024719, -39.831966478), (7.000943139, -38.049330228), (95.074987867, -81), align=None)
        Polygon((88.08290687, 6), (1.82038942, -34.489906755), (5.57330784, -36.272543005), (95.074987867, 6), align=None)
    extrude(amount=VIDE_CROIX_DEPTH, mode=Mode.SUBTRACT)


solid = part.part
